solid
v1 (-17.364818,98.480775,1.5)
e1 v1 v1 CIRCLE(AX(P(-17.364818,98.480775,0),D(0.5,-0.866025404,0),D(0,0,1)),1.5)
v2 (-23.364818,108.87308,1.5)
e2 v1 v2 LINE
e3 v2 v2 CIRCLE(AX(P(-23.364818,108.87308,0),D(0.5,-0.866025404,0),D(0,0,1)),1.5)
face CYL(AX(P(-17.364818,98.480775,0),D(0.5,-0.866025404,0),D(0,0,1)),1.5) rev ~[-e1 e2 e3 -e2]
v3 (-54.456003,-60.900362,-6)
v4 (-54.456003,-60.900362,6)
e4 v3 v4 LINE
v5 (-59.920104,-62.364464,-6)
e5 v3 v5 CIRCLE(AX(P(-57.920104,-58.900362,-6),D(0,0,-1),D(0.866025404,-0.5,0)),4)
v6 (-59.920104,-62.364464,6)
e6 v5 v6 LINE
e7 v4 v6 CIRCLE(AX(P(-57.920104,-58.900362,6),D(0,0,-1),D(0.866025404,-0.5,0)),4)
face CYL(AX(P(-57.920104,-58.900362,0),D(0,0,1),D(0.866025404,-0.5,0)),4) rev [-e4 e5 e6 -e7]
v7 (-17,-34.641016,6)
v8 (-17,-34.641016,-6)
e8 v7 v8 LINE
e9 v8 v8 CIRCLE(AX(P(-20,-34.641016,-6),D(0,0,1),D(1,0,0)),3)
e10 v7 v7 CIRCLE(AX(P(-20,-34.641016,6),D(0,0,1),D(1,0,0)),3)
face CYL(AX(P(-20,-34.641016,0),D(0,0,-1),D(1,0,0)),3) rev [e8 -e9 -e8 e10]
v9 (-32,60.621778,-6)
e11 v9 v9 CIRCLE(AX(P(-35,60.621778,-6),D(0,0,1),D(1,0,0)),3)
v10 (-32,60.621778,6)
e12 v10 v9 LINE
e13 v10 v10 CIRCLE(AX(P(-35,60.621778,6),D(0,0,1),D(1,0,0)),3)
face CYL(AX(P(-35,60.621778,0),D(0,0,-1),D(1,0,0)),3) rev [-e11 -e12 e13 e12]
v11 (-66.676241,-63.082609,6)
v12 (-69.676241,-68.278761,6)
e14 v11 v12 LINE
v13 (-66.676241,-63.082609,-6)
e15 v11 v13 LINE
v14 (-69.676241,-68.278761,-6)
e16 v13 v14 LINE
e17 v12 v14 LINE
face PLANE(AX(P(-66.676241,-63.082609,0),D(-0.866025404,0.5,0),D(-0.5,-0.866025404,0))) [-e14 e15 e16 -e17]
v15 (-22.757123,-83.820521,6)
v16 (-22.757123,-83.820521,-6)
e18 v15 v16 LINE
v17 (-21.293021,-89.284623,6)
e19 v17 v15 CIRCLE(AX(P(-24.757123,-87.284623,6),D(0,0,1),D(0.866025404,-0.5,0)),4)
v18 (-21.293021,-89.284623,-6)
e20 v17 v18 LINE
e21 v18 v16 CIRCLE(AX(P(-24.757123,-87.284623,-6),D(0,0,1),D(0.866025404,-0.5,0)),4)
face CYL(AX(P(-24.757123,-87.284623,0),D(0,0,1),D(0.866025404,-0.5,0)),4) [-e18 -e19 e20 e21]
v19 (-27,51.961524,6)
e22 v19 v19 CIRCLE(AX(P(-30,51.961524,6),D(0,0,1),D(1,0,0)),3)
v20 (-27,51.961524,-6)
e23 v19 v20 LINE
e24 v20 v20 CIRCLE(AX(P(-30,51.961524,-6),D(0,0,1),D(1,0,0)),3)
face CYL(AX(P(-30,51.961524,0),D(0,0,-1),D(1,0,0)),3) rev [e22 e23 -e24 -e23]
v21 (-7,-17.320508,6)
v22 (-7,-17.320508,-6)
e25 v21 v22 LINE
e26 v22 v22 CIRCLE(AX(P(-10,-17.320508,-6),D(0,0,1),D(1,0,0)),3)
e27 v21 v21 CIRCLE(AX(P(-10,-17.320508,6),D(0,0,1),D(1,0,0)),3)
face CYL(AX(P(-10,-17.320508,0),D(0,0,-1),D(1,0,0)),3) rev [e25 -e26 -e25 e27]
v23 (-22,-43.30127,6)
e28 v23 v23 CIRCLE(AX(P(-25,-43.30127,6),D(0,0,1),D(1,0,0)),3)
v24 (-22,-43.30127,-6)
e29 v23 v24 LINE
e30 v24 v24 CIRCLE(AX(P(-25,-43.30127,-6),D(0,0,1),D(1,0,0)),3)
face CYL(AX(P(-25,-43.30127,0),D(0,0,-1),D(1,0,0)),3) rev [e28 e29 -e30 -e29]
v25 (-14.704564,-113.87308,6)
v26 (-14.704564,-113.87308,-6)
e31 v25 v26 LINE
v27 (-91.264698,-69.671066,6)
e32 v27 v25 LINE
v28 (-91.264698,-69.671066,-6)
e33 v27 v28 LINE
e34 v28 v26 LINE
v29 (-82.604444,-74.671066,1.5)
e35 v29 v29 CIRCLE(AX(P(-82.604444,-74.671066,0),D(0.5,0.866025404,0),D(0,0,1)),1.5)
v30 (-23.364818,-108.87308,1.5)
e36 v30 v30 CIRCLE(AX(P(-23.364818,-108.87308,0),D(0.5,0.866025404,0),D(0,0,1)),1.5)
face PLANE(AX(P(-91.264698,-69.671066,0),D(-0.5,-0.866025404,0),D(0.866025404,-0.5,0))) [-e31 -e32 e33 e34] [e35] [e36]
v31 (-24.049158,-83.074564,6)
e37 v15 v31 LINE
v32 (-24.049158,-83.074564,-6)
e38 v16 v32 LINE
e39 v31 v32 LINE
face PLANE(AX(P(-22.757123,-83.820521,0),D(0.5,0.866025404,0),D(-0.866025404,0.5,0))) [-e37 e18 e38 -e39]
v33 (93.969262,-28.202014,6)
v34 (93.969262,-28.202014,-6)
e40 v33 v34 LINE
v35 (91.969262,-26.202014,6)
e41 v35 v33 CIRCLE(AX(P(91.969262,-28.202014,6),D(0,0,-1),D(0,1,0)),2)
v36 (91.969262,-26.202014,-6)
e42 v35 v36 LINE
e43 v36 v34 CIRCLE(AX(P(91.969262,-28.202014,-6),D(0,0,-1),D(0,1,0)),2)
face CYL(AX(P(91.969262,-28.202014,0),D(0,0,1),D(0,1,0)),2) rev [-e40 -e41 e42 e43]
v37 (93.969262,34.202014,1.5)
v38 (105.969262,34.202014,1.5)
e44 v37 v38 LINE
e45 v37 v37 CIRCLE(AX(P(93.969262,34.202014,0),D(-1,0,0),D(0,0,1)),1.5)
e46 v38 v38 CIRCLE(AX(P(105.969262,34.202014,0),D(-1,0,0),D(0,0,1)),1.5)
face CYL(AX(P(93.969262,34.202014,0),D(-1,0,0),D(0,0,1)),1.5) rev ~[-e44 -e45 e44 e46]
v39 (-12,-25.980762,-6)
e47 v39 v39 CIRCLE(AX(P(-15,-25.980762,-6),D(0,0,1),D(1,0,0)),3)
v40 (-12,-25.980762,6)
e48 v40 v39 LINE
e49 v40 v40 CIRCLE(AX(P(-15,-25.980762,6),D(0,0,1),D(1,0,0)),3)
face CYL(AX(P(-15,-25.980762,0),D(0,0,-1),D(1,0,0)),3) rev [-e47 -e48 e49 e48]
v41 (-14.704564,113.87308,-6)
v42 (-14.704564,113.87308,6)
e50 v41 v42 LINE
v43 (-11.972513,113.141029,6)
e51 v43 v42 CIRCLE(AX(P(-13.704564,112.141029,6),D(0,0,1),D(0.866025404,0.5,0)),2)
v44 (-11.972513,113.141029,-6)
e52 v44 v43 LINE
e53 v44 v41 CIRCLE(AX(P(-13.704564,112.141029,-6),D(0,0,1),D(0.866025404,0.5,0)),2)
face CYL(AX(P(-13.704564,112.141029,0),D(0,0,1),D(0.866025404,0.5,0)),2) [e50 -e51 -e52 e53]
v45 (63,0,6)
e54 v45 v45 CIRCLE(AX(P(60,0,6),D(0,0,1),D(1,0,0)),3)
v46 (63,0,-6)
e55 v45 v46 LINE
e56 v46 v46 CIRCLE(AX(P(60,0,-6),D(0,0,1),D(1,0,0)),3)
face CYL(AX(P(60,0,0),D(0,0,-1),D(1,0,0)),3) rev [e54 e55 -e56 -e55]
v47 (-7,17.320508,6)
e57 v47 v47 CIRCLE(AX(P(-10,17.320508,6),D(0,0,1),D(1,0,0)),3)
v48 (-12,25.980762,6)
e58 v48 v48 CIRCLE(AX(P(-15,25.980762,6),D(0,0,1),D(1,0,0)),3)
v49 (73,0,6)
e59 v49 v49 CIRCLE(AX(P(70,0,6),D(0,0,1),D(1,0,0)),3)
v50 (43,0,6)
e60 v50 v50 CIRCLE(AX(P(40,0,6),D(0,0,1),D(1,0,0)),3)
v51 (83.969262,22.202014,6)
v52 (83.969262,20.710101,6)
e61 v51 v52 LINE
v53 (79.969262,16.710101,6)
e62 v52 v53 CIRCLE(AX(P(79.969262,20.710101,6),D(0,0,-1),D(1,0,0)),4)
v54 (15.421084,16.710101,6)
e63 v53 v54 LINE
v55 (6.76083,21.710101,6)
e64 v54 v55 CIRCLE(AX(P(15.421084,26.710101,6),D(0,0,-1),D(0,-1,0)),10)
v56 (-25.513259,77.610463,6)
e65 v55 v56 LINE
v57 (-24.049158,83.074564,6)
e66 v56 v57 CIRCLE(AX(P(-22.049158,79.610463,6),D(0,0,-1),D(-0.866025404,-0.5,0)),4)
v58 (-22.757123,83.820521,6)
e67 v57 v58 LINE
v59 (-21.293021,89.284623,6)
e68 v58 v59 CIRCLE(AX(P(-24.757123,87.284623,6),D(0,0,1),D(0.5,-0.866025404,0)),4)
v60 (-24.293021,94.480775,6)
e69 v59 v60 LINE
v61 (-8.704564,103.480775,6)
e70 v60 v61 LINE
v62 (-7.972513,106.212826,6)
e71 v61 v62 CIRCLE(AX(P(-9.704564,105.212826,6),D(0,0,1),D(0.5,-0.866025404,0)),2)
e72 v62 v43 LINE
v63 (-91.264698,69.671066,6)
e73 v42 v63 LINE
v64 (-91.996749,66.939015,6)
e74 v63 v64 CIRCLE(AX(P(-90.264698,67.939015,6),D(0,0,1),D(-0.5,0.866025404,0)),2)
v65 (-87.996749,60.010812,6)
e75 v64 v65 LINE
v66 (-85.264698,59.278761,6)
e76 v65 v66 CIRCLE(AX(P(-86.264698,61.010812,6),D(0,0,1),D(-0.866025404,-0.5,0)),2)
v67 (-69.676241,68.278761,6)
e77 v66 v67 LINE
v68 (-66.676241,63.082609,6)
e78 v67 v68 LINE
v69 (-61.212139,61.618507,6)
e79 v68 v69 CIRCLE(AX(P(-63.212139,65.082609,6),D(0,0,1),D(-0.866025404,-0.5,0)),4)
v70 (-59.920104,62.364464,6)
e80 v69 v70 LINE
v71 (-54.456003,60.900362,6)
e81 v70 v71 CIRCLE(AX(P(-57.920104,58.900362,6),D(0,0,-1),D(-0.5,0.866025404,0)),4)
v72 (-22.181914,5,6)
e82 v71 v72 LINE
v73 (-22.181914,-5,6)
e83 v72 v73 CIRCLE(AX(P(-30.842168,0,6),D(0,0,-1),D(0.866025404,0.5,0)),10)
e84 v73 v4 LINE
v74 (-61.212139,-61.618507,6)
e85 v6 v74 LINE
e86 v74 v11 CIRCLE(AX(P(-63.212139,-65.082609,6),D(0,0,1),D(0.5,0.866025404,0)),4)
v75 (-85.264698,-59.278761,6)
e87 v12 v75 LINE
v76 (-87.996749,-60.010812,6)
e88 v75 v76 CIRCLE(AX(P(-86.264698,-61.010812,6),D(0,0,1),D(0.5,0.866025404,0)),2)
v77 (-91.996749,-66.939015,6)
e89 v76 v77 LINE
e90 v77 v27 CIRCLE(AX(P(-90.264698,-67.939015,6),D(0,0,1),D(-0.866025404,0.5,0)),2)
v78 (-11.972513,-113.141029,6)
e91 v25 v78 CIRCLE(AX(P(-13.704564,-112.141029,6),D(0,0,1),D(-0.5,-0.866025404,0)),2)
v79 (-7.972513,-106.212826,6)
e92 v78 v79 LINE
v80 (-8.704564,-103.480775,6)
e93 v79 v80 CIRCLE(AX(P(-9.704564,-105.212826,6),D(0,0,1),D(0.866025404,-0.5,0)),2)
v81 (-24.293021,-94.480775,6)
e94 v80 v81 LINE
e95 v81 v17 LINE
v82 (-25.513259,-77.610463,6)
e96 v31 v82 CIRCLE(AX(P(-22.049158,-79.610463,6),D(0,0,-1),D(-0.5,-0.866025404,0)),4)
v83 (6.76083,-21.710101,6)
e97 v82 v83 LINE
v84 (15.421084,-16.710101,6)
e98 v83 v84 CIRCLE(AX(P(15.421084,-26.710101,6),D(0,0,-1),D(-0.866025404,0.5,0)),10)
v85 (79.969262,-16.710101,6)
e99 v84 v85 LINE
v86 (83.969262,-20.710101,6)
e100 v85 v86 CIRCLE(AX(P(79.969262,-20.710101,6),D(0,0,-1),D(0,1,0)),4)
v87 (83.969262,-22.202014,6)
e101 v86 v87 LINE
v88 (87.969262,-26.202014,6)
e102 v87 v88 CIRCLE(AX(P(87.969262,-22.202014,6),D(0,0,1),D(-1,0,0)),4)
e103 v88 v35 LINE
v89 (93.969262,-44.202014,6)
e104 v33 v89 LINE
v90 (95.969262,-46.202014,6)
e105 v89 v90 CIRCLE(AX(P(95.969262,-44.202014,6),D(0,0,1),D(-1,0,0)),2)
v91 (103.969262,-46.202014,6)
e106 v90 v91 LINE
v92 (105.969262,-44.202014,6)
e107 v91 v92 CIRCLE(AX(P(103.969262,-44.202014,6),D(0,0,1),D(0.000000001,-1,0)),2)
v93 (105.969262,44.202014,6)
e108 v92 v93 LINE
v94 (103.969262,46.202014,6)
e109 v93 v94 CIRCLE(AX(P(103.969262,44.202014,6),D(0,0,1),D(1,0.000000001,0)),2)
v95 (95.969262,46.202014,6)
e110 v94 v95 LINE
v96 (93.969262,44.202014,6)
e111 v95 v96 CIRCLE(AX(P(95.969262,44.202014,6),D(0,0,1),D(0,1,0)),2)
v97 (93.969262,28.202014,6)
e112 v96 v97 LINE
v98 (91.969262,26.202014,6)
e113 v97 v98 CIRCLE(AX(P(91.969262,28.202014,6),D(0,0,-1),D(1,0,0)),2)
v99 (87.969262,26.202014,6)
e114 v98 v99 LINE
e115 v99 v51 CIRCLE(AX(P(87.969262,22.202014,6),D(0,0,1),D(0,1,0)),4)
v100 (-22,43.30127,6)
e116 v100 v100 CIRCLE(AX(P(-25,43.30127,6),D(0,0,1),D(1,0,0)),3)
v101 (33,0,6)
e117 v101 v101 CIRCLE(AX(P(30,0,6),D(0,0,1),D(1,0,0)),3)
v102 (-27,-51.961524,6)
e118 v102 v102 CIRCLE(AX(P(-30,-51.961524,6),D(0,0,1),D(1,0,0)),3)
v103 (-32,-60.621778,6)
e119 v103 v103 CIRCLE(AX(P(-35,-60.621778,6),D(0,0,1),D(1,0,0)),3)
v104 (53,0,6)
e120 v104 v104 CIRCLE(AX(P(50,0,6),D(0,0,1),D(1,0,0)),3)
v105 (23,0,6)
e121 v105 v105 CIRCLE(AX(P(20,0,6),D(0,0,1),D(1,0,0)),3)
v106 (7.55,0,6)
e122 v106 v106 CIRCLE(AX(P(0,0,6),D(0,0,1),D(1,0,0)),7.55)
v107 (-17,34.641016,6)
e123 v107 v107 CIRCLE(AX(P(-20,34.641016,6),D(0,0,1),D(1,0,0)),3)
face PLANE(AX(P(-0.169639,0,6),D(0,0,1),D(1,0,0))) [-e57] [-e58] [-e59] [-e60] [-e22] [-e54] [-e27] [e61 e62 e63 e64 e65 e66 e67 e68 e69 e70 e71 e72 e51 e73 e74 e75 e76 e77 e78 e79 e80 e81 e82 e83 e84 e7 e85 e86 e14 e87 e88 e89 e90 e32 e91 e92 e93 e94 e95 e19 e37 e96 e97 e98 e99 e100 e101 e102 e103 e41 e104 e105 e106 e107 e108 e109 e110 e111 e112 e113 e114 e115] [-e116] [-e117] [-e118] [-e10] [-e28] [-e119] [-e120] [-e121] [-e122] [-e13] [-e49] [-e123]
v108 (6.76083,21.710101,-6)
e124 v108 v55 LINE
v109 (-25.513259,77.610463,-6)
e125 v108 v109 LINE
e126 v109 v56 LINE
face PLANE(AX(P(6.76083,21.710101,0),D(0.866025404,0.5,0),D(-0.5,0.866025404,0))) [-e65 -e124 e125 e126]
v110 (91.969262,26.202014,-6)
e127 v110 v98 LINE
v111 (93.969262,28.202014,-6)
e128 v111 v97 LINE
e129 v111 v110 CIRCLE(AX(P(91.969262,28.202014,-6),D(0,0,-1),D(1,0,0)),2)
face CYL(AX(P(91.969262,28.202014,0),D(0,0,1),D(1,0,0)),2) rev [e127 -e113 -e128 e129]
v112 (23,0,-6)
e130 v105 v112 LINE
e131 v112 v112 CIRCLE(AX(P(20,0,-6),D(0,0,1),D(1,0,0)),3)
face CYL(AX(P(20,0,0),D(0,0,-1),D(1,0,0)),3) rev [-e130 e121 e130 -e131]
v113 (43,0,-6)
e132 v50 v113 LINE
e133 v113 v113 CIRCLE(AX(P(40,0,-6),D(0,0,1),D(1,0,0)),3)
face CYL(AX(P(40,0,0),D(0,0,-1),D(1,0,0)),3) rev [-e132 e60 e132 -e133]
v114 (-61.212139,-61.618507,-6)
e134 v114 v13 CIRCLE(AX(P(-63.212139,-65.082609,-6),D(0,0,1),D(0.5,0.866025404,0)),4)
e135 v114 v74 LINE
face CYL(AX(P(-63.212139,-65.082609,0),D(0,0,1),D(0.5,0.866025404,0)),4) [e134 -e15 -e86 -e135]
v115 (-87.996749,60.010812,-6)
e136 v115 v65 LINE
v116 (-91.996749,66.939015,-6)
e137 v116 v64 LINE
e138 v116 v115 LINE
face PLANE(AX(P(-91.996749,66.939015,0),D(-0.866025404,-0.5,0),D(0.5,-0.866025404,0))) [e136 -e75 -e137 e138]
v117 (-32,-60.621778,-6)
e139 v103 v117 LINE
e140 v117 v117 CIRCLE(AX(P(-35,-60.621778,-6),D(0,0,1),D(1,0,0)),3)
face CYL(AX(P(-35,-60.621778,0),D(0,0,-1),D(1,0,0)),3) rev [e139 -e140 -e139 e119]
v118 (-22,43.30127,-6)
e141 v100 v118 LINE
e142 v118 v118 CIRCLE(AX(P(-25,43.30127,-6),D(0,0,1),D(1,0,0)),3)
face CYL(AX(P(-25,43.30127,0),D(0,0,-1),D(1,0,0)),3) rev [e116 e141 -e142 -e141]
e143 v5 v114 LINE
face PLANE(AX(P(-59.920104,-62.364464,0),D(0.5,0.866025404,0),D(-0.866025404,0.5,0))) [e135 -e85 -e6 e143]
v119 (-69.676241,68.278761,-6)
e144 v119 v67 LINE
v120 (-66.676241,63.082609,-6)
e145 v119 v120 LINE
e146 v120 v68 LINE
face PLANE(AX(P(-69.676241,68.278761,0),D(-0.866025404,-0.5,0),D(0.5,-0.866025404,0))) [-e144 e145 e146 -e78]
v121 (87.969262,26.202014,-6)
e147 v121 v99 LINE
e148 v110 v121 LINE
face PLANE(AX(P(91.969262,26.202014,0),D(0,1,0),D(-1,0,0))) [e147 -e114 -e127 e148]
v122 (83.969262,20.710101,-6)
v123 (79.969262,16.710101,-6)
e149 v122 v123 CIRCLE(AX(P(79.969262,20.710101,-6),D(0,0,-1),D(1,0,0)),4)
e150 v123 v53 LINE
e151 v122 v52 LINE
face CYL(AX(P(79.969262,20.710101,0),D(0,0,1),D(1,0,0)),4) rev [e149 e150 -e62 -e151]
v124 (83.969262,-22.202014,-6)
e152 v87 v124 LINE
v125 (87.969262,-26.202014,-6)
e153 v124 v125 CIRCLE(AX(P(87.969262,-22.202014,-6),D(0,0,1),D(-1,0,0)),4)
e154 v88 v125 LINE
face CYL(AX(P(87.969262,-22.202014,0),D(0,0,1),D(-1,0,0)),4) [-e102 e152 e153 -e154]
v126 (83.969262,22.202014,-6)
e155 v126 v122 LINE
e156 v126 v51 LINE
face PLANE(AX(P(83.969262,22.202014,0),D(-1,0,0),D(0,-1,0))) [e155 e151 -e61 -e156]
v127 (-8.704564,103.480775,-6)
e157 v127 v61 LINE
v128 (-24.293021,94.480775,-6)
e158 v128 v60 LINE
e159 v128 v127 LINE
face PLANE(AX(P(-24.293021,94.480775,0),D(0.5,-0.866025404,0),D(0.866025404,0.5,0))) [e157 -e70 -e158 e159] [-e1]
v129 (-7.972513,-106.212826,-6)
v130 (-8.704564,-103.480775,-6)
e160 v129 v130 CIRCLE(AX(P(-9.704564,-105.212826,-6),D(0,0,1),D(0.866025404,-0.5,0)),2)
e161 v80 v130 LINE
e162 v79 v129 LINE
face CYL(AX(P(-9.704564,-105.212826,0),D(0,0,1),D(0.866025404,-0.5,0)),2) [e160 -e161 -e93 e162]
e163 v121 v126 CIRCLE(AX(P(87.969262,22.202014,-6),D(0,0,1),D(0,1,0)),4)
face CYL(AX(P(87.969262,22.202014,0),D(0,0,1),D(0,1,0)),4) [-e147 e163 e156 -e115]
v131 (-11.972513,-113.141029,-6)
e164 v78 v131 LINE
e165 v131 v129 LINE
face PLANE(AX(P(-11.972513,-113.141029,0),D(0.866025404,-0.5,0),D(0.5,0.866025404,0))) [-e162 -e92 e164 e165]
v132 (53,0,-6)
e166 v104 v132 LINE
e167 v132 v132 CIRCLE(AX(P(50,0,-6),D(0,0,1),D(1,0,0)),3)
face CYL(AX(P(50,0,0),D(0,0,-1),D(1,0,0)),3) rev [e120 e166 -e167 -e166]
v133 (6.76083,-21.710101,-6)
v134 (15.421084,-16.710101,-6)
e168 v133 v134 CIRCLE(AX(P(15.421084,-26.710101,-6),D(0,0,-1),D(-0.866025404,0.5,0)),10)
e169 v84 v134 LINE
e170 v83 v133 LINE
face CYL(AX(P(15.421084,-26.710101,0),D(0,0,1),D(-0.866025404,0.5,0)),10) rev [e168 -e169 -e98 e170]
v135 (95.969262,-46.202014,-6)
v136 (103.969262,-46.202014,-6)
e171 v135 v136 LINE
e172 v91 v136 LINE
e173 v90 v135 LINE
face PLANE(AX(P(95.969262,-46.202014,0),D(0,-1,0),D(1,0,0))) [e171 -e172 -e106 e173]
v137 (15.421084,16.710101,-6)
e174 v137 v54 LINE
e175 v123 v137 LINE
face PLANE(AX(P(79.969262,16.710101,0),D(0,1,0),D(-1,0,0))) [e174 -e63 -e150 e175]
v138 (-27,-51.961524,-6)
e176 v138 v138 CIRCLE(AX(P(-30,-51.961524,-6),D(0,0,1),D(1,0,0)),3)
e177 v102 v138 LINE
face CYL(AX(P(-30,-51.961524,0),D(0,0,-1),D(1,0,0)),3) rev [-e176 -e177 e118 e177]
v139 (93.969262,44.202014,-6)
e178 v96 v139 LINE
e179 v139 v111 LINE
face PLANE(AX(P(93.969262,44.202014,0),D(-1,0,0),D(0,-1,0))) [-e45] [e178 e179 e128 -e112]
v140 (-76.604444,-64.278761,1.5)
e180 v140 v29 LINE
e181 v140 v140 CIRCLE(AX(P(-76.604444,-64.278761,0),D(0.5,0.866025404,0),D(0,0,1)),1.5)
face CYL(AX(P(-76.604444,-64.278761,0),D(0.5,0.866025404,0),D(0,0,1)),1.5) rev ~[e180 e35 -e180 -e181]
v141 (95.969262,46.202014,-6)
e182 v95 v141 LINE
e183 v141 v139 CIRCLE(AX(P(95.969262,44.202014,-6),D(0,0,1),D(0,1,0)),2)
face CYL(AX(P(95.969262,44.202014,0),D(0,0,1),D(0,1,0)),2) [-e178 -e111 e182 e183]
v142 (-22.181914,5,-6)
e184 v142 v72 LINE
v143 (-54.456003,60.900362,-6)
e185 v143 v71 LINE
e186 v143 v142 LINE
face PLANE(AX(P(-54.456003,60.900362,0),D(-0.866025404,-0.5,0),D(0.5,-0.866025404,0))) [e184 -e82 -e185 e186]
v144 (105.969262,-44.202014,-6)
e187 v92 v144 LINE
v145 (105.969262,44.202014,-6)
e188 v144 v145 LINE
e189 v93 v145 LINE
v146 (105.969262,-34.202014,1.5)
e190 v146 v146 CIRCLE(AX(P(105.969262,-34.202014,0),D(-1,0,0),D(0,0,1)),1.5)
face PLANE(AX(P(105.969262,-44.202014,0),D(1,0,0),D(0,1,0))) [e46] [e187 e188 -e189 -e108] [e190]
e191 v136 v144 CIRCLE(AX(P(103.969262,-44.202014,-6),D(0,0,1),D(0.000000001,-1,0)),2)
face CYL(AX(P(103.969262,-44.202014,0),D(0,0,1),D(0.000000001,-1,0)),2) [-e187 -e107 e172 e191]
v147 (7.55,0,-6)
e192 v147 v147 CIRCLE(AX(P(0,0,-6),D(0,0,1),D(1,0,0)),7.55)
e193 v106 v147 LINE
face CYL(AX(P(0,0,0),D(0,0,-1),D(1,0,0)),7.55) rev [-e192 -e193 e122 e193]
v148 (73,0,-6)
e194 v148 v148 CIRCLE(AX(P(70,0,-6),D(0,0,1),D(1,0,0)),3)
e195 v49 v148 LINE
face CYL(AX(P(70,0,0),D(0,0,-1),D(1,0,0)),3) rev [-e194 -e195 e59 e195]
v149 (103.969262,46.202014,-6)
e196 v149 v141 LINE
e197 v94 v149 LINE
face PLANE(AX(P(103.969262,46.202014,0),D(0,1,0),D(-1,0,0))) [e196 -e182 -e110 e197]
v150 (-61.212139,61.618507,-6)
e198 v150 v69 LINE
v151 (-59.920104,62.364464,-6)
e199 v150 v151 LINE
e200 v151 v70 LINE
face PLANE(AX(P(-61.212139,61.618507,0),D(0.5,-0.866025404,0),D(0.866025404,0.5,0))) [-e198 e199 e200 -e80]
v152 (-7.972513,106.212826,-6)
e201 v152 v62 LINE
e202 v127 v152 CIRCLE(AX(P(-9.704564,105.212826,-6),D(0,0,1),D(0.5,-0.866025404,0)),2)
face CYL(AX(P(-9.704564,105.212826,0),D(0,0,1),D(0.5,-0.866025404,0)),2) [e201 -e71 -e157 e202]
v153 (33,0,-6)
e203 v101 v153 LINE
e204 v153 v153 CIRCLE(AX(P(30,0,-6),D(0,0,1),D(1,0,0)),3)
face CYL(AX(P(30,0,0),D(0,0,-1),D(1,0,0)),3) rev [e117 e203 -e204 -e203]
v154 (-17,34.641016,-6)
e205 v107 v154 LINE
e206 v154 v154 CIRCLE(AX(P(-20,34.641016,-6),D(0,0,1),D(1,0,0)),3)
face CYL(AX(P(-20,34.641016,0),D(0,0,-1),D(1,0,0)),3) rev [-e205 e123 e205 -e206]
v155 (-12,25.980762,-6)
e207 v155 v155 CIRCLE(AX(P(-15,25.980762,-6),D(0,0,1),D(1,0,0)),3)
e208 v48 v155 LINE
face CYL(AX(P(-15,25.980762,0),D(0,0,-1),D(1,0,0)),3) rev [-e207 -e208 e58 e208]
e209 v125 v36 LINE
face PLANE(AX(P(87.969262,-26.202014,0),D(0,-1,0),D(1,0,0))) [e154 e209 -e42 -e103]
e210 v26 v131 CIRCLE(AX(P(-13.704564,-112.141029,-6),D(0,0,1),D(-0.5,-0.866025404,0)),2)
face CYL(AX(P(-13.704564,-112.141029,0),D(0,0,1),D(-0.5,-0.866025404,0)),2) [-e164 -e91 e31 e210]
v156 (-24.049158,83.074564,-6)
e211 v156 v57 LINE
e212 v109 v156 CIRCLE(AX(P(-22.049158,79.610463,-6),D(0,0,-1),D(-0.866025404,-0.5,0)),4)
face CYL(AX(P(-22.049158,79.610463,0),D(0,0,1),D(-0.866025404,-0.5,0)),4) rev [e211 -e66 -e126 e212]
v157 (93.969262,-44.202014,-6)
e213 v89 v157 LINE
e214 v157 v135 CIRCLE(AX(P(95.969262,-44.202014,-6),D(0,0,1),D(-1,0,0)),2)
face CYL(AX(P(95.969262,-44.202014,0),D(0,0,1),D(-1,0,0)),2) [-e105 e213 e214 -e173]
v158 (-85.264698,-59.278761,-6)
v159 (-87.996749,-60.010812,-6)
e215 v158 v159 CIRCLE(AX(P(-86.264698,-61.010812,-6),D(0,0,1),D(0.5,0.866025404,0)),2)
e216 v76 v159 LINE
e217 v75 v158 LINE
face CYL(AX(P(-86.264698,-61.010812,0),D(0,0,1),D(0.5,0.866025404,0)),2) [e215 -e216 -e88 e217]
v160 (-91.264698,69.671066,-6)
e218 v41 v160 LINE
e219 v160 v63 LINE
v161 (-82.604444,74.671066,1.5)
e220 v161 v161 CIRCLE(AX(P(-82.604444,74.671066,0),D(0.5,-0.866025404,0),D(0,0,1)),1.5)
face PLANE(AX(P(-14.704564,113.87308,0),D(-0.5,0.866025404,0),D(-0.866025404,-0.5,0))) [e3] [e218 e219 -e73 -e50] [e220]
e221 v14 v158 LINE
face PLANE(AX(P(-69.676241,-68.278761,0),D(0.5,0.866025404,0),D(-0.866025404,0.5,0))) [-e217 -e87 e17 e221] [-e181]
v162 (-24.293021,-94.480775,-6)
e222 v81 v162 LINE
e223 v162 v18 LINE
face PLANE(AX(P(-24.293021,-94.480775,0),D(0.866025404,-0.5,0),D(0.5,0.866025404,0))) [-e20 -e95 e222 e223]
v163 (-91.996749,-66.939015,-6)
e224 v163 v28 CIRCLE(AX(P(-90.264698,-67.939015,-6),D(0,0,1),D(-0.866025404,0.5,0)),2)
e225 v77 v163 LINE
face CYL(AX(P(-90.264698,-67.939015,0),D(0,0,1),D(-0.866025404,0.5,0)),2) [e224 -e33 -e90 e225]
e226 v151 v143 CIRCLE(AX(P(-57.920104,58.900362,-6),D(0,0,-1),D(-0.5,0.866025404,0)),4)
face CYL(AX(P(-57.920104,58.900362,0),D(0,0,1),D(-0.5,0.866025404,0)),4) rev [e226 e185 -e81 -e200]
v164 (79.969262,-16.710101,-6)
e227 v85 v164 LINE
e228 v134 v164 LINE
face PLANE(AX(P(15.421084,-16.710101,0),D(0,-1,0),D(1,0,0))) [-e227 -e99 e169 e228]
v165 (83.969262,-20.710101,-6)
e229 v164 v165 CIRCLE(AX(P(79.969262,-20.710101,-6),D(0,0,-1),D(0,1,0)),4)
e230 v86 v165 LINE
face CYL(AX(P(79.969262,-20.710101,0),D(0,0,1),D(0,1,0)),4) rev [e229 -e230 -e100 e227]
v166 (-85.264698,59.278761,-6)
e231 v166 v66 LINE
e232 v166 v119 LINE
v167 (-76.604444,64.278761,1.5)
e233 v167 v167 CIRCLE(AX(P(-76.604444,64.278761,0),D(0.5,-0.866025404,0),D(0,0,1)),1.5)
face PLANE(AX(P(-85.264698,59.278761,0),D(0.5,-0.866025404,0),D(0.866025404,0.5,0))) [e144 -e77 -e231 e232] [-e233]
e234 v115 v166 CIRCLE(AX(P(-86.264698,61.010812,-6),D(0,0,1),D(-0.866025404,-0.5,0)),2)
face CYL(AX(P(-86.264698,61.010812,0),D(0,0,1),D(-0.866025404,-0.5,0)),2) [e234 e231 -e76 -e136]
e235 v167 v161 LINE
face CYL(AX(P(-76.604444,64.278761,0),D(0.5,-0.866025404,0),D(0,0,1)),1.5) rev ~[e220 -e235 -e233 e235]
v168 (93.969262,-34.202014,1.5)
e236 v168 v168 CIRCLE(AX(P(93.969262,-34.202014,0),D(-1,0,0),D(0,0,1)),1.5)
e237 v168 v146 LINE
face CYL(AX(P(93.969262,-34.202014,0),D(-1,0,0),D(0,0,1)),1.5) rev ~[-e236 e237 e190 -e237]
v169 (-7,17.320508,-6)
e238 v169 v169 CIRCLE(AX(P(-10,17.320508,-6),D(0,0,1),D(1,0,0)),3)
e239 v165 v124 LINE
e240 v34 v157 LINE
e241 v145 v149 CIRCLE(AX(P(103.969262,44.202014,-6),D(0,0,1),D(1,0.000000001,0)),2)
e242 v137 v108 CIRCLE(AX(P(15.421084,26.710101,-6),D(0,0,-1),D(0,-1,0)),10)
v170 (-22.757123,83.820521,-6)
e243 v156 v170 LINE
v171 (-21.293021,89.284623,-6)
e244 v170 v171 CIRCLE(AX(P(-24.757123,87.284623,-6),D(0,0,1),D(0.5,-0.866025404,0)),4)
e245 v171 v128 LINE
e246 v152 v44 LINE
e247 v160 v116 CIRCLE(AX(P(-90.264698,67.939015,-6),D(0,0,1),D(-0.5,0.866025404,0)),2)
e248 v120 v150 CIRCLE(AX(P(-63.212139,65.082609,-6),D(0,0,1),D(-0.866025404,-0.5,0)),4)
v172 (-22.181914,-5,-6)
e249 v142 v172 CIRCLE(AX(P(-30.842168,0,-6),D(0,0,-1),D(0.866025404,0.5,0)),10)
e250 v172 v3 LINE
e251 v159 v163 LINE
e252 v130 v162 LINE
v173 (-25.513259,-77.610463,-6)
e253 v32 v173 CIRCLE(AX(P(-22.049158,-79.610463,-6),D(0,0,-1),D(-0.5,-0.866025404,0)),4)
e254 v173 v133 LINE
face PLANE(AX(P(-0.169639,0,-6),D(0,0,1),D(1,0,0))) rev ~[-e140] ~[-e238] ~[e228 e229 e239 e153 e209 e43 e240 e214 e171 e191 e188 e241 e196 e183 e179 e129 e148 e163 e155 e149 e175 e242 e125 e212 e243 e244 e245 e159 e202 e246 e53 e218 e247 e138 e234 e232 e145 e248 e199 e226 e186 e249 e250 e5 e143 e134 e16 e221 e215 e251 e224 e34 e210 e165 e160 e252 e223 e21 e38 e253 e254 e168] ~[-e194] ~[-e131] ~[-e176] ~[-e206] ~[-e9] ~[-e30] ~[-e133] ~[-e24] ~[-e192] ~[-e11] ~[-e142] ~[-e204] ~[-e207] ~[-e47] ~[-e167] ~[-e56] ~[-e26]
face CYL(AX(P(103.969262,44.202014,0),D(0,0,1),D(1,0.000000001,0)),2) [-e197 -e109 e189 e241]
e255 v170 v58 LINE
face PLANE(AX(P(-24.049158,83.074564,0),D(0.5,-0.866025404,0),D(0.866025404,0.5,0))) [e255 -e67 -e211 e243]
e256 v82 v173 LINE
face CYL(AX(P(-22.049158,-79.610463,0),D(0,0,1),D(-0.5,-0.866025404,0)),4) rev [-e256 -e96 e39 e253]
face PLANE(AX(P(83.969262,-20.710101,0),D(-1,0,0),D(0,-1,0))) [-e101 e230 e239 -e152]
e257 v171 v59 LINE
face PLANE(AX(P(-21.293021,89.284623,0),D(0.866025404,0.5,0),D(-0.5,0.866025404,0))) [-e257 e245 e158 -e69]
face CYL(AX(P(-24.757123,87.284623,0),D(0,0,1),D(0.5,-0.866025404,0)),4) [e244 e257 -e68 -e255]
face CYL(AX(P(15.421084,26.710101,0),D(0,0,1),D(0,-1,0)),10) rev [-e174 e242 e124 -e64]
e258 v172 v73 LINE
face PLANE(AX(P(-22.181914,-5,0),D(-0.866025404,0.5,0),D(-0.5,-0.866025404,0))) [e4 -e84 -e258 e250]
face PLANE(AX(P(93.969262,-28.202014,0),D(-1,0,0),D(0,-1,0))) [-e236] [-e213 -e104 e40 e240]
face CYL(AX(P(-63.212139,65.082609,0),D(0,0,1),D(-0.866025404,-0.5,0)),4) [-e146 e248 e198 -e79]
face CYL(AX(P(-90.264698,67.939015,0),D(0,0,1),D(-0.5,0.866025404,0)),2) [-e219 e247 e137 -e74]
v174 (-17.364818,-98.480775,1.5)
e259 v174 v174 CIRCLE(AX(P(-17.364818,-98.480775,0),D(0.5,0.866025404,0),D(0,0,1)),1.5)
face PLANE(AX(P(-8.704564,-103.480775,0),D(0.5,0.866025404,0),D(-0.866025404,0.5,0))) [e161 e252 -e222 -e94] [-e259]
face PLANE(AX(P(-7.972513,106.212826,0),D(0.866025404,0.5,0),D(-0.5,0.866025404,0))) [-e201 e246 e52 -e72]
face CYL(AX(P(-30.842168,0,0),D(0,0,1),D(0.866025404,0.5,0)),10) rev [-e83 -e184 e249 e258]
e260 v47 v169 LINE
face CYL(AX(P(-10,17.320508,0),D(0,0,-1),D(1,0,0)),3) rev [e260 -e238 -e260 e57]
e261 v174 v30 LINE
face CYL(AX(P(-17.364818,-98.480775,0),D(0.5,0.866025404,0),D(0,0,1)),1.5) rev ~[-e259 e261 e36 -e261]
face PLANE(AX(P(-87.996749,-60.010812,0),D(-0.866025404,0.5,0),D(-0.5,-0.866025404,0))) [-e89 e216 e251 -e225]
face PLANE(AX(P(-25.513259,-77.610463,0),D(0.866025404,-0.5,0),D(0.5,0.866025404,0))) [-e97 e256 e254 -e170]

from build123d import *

# Parameters (mm, degrees)
ESQUISSE1_R                  = 3
ESQUISSE1_R_2                = 7.55
BOSS_EXTRU_1_DEPTH           = 6
ESQUISSE2_R                  = 1.5
ENL_V_MAT_EXTRU_1_DEPTH      = 219.511470169
R_P_TITION_CIRCULAIRE1_COUNT = 3


with BuildPart() as part:
    # Esquisse1 → Boss.-Extru.1 (new, symmetric)
    with BuildSketch(Plane.XY):
        with BuildLine():
            Line((93.969262079, 44.202014333), (93.969262079, 28.202014333))
            ThreePointArc((93.969262079, 28.202014333), (93.383475641, 26.78780077), (91.969262079, 26.202014333))
            Line((91.969262079, 26.202014333), (87.969262079, 26.202014333))
            ThreePointArc((87.969262079, 26.202014333), (85.140834954, 25.030441457), (83.969262079, 22.202014333))
            Line((83.969262079, 22.202014333), (83.969262079, 20.710100717))
            ThreePointArc((83.969262079, 20.710100717), (82.797689203, 17.881673592), (79.969262079, 16.710100717))
            Line((79.969262079, 16.710100717), (15.421083839, 16.710100717))
            ThreePointArc((15.421083839, 16.710100717), (10.421083839, 18.049846679), (6.760829801, 21.710100717))
            Line((6.760829801, 21.710100717), (-25.513259319, 77.61046284))
            ThreePointArc((-25.513259319, 77.61046284), (-25.912861009, 80.645739021), (-24.049157704, 83.074564455))
            Line((-24.049157704, 83.074564455), (-22.757122612, 83.820521263))
            ThreePointArc((-22.757122612, 83.820521263), (-20.893419307, 86.249346698), (-21.293020997, 89.284622879))
            Line((-21.293020997, 89.284622879), (-24.293020997, 94.480775301))
            Line((-24.293020997, 94.480775301), (-8.704563729, 103.480775301))
            ThreePointArc((-8.704563729, 103.480775301), (-7.772712076, 104.695188019), (-7.972512921, 106.212826109))
            Line((-7.972512921, 106.212826109), (-11.972512921, 113.141029339))
            ThreePointArc((-11.972512921, 113.141029339), (-13.186925639, 114.072880992), (-14.704563729, 113.873080147))
            Line((-14.704563729, 113.873080147), (-91.26469835, 69.671065814))
            ThreePointArc((-91.26469835, 69.671065814), (-92.196550002, 68.456653097), (-91.996749157, 66.939015006))
            Line((-91.996749157, 66.939015006), (-87.996749157, 60.010811776))
            ThreePointArc((-87.996749157, 60.010811776), (-86.78233644, 59.078960124), (-85.26469835, 59.278760969))
            Line((-85.26469835, 59.278760969), (-69.676241082, 68.278760969))
            Line((-69.676241082, 68.278760969), (-66.676241082, 63.082608546))
            ThreePointArc((-66.676241082, 63.082608546), (-64.247415647, 61.218905241), (-61.212139466, 61.618506931))
            Line((-61.212139466, 61.618506931), (-59.920104375, 62.364463739))
            ThreePointArc((-59.920104375, 62.364463739), (-56.884828194, 62.764065429), (-54.45600276, 60.900362124))
            Line((-54.45600276, 60.900362124), (-22.18191364, 5))
            ThreePointArc((-22.18191364, 5), (-20.842167678, 0), (-22.18191364, -5))
            Line((-22.18191364, -5), (-54.45600276, -60.900362124))
            ThreePointArc((-54.45600276, -60.900362124), (-56.884828194, -62.764065429), (-59.920104375, -62.364463739))
            Line((-59.920104375, -62.364463739), (-61.212139466, -61.618506931))
            ThreePointArc((-61.212139466, -61.618506931), (-64.247415647, -61.218905241), (-66.676241082, -63.082608546))
            Line((-66.676241082, -63.082608546), (-69.676241082, -68.278760969))
            Line((-69.676241082, -68.278760969), (-85.26469835, -59.278760969))
            ThreePointArc((-85.26469835, -59.278760969), (-86.78233644, -59.078960124), (-87.996749157, -60.010811776))
            Line((-87.996749157, -60.010811776), (-91.996749157, -66.939015007))
            ThreePointArc((-91.996749157, -66.939015007), (-92.196550002, -68.456653097), (-91.26469835, -69.671065814))
            Line((-91.26469835, -69.671065814), (-14.704563729, -113.873080147))
            ThreePointArc((-14.704563729, -113.873080147), (-13.186925639, -114.072880992), (-11.972512921, -113.141029339))
            Line((-11.972512921, -113.141029339), (-7.972512921, -106.212826109))
            ThreePointArc((-7.972512921, -106.212826109), (-7.772712076, -104.695188019), (-8.704563729, -103.480775301))
            Line((-8.704563729, -103.480775301), (-24.293020997, -94.480775301))
            Line((-24.293020997, -94.480775301), (-21.293020997, -89.284622879))
            ThreePointArc((-21.293020997, -89.284622879), (-20.893419307, -86.249346698), (-22.757122612, -83.820521263))
            Line((-22.757122612, -83.820521263), (-24.049157704, -83.074564455))
            ThreePointArc((-24.049157704, -83.074564455), (-25.912861009, -80.645739021), (-25.513259319, -77.61046284))
            Line((-25.513259319, -77.61046284), (6.760829801, -21.710100717))
            ThreePointArc((6.760829801, -21.710100717), (10.421083839, -18.049846679), (15.421083839, -16.710100717))
            Line((15.421083839, -16.710100717), (79.969262079, -16.710100717))
            ThreePointArc((79.969262079, -16.710100717), (82.797689203, -17.881673592), (83.969262079, -20.710100717))
            Line((83.969262079, -20.710100717), (83.969262079, -22.202014333))
            ThreePointArc((83.969262079, -22.202014333), (85.140834954, -25.030441457), (87.969262079, -26.202014333))
            Line((87.969262079, -26.202014333), (91.969262079, -26.202014333))
            ThreePointArc((91.969262079, -26.202014333), (93.383475641, -26.78780077), (93.969262079, -28.202014333))
            Line((93.969262079, -28.202014333), (93.969262079, -44.202014333))
            ThreePointArc((93.969262079, -44.202014333), (94.555048516, -45.616227895), (95.969262079, -46.202014333))
            Line((95.969262079, -46.202014333), (103.969262079, -46.202014333))
            ThreePointArc((103.969262079, -46.202014333), (105.383475641, -45.616227895), (105.969262079, -44.202014333))
            Line((105.969262079, -44.202014333), (105.969262079, 44.202014333))
            ThreePointArc((105.969262079, 44.202014333), (105.383475641, 45.616227895), (103.969262079, 46.202014333))
            Line((103.969262079, 46.202014333), (95.969262079, 46.202014333))
            ThreePointArc((95.969262079, 46.202014333), (94.555048516, 45.616227895), (93.969262079, 44.202014333))
        make_face()
        with Locations((-35, -60.621778265)):
            Circle(ESQUISSE1_R, mode=Mode.SUBTRACT)
        with Locations((-30, -51.961524227)):
            Circle(ESQUISSE1_R, mode=Mode.SUBTRACT)
        with Locations((-25, -43.301270189)):
            Circle(ESQUISSE1_R, mode=Mode.SUBTRACT)
        with Locations((-20, -34.641016151)):
            Circle(ESQUISSE1_R, mode=Mode.SUBTRACT)
        with Locations((-15, -25.980762114)):
            Circle(ESQUISSE1_R, mode=Mode.SUBTRACT)
        with Locations((-10, -17.320508076)):
            Circle(ESQUISSE1_R, mode=Mode.SUBTRACT)
        with Locations((-10, 17.320508076)):
            Circle(ESQUISSE1_R, mode=Mode.SUBTRACT)
        with Locations((-15, 25.980762114)):
            Circle(ESQUISSE1_R, mode=Mode.SUBTRACT)
        with Locations((-20, 34.641016151)):
            Circle(ESQUISSE1_R, mode=Mode.SUBTRACT)
        with Locations((-25, 43.301270189)):
            Circle(ESQUISSE1_R, mode=Mode.SUBTRACT)
        with Locations((-30, 51.961524227)):
            Circle(ESQUISSE1_R, mode=Mode.SUBTRACT)
        with Locations((-35, 60.621778265)):
            Circle(ESQUISSE1_R, mode=Mode.SUBTRACT)
        with Locations((20, 0)):
            Circle(ESQUISSE1_R, mode=Mode.SUBTRACT)
        with Locations((30, 0)):
            Circle(ESQUISSE1_R, mode=Mode.SUBTRACT)
        with Locations((40, 0)):
            Circle(ESQUISSE1_R, mode=Mode.SUBTRACT)
        with Locations((50, 0)):
            Circle(ESQUISSE1_R, mode=Mode.SUBTRACT)
        with Locations((60, 0)):
            Circle(ESQUISSE1_R, mode=Mode.SUBTRACT)
        with Locations((70, 0)):
            Circle(ESQUISSE1_R, mode=Mode.SUBTRACT)
        Circle(ESQUISSE1_R_2, mode=Mode.SUBTRACT)
    extrude(amount=BOSS_EXTRU_1_DEPTH, both=True)

    # Esquisse2 → Enlèv. mat.-Extru.1 (cut, through all)
    with BuildSketch(Plane.ZY.offset(-93.969262079)):
        with Locations((0, 34.202014333)):
            Circle(ESQUISSE2_R)
        with Locations((0, -34.202014333)):
            Circle(ESQUISSE2_R)
    enl_v_mat_extru_1 = extrude(amount=-ENL_V_MAT_EXTRU_1_DEPTH, mode=Mode.SUBTRACT)

    # Répétition circulaire1: Enlèv. mat.-Extru.1 ×3 about axis
    r_p_tition_circulaire1_axis = Axis((0, 0, 6), (0, 0, -1))
    for i in range(1, R_P_TITION_CIRCULAIRE1_COUNT):
        add(enl_v_mat_extru_1.rotate(r_p_tition_circulaire1_axis, i * 360 / R_P_TITION_CIRCULAIRE1_COUNT), mode=Mode.SUBTRACT)


solid = part.part
